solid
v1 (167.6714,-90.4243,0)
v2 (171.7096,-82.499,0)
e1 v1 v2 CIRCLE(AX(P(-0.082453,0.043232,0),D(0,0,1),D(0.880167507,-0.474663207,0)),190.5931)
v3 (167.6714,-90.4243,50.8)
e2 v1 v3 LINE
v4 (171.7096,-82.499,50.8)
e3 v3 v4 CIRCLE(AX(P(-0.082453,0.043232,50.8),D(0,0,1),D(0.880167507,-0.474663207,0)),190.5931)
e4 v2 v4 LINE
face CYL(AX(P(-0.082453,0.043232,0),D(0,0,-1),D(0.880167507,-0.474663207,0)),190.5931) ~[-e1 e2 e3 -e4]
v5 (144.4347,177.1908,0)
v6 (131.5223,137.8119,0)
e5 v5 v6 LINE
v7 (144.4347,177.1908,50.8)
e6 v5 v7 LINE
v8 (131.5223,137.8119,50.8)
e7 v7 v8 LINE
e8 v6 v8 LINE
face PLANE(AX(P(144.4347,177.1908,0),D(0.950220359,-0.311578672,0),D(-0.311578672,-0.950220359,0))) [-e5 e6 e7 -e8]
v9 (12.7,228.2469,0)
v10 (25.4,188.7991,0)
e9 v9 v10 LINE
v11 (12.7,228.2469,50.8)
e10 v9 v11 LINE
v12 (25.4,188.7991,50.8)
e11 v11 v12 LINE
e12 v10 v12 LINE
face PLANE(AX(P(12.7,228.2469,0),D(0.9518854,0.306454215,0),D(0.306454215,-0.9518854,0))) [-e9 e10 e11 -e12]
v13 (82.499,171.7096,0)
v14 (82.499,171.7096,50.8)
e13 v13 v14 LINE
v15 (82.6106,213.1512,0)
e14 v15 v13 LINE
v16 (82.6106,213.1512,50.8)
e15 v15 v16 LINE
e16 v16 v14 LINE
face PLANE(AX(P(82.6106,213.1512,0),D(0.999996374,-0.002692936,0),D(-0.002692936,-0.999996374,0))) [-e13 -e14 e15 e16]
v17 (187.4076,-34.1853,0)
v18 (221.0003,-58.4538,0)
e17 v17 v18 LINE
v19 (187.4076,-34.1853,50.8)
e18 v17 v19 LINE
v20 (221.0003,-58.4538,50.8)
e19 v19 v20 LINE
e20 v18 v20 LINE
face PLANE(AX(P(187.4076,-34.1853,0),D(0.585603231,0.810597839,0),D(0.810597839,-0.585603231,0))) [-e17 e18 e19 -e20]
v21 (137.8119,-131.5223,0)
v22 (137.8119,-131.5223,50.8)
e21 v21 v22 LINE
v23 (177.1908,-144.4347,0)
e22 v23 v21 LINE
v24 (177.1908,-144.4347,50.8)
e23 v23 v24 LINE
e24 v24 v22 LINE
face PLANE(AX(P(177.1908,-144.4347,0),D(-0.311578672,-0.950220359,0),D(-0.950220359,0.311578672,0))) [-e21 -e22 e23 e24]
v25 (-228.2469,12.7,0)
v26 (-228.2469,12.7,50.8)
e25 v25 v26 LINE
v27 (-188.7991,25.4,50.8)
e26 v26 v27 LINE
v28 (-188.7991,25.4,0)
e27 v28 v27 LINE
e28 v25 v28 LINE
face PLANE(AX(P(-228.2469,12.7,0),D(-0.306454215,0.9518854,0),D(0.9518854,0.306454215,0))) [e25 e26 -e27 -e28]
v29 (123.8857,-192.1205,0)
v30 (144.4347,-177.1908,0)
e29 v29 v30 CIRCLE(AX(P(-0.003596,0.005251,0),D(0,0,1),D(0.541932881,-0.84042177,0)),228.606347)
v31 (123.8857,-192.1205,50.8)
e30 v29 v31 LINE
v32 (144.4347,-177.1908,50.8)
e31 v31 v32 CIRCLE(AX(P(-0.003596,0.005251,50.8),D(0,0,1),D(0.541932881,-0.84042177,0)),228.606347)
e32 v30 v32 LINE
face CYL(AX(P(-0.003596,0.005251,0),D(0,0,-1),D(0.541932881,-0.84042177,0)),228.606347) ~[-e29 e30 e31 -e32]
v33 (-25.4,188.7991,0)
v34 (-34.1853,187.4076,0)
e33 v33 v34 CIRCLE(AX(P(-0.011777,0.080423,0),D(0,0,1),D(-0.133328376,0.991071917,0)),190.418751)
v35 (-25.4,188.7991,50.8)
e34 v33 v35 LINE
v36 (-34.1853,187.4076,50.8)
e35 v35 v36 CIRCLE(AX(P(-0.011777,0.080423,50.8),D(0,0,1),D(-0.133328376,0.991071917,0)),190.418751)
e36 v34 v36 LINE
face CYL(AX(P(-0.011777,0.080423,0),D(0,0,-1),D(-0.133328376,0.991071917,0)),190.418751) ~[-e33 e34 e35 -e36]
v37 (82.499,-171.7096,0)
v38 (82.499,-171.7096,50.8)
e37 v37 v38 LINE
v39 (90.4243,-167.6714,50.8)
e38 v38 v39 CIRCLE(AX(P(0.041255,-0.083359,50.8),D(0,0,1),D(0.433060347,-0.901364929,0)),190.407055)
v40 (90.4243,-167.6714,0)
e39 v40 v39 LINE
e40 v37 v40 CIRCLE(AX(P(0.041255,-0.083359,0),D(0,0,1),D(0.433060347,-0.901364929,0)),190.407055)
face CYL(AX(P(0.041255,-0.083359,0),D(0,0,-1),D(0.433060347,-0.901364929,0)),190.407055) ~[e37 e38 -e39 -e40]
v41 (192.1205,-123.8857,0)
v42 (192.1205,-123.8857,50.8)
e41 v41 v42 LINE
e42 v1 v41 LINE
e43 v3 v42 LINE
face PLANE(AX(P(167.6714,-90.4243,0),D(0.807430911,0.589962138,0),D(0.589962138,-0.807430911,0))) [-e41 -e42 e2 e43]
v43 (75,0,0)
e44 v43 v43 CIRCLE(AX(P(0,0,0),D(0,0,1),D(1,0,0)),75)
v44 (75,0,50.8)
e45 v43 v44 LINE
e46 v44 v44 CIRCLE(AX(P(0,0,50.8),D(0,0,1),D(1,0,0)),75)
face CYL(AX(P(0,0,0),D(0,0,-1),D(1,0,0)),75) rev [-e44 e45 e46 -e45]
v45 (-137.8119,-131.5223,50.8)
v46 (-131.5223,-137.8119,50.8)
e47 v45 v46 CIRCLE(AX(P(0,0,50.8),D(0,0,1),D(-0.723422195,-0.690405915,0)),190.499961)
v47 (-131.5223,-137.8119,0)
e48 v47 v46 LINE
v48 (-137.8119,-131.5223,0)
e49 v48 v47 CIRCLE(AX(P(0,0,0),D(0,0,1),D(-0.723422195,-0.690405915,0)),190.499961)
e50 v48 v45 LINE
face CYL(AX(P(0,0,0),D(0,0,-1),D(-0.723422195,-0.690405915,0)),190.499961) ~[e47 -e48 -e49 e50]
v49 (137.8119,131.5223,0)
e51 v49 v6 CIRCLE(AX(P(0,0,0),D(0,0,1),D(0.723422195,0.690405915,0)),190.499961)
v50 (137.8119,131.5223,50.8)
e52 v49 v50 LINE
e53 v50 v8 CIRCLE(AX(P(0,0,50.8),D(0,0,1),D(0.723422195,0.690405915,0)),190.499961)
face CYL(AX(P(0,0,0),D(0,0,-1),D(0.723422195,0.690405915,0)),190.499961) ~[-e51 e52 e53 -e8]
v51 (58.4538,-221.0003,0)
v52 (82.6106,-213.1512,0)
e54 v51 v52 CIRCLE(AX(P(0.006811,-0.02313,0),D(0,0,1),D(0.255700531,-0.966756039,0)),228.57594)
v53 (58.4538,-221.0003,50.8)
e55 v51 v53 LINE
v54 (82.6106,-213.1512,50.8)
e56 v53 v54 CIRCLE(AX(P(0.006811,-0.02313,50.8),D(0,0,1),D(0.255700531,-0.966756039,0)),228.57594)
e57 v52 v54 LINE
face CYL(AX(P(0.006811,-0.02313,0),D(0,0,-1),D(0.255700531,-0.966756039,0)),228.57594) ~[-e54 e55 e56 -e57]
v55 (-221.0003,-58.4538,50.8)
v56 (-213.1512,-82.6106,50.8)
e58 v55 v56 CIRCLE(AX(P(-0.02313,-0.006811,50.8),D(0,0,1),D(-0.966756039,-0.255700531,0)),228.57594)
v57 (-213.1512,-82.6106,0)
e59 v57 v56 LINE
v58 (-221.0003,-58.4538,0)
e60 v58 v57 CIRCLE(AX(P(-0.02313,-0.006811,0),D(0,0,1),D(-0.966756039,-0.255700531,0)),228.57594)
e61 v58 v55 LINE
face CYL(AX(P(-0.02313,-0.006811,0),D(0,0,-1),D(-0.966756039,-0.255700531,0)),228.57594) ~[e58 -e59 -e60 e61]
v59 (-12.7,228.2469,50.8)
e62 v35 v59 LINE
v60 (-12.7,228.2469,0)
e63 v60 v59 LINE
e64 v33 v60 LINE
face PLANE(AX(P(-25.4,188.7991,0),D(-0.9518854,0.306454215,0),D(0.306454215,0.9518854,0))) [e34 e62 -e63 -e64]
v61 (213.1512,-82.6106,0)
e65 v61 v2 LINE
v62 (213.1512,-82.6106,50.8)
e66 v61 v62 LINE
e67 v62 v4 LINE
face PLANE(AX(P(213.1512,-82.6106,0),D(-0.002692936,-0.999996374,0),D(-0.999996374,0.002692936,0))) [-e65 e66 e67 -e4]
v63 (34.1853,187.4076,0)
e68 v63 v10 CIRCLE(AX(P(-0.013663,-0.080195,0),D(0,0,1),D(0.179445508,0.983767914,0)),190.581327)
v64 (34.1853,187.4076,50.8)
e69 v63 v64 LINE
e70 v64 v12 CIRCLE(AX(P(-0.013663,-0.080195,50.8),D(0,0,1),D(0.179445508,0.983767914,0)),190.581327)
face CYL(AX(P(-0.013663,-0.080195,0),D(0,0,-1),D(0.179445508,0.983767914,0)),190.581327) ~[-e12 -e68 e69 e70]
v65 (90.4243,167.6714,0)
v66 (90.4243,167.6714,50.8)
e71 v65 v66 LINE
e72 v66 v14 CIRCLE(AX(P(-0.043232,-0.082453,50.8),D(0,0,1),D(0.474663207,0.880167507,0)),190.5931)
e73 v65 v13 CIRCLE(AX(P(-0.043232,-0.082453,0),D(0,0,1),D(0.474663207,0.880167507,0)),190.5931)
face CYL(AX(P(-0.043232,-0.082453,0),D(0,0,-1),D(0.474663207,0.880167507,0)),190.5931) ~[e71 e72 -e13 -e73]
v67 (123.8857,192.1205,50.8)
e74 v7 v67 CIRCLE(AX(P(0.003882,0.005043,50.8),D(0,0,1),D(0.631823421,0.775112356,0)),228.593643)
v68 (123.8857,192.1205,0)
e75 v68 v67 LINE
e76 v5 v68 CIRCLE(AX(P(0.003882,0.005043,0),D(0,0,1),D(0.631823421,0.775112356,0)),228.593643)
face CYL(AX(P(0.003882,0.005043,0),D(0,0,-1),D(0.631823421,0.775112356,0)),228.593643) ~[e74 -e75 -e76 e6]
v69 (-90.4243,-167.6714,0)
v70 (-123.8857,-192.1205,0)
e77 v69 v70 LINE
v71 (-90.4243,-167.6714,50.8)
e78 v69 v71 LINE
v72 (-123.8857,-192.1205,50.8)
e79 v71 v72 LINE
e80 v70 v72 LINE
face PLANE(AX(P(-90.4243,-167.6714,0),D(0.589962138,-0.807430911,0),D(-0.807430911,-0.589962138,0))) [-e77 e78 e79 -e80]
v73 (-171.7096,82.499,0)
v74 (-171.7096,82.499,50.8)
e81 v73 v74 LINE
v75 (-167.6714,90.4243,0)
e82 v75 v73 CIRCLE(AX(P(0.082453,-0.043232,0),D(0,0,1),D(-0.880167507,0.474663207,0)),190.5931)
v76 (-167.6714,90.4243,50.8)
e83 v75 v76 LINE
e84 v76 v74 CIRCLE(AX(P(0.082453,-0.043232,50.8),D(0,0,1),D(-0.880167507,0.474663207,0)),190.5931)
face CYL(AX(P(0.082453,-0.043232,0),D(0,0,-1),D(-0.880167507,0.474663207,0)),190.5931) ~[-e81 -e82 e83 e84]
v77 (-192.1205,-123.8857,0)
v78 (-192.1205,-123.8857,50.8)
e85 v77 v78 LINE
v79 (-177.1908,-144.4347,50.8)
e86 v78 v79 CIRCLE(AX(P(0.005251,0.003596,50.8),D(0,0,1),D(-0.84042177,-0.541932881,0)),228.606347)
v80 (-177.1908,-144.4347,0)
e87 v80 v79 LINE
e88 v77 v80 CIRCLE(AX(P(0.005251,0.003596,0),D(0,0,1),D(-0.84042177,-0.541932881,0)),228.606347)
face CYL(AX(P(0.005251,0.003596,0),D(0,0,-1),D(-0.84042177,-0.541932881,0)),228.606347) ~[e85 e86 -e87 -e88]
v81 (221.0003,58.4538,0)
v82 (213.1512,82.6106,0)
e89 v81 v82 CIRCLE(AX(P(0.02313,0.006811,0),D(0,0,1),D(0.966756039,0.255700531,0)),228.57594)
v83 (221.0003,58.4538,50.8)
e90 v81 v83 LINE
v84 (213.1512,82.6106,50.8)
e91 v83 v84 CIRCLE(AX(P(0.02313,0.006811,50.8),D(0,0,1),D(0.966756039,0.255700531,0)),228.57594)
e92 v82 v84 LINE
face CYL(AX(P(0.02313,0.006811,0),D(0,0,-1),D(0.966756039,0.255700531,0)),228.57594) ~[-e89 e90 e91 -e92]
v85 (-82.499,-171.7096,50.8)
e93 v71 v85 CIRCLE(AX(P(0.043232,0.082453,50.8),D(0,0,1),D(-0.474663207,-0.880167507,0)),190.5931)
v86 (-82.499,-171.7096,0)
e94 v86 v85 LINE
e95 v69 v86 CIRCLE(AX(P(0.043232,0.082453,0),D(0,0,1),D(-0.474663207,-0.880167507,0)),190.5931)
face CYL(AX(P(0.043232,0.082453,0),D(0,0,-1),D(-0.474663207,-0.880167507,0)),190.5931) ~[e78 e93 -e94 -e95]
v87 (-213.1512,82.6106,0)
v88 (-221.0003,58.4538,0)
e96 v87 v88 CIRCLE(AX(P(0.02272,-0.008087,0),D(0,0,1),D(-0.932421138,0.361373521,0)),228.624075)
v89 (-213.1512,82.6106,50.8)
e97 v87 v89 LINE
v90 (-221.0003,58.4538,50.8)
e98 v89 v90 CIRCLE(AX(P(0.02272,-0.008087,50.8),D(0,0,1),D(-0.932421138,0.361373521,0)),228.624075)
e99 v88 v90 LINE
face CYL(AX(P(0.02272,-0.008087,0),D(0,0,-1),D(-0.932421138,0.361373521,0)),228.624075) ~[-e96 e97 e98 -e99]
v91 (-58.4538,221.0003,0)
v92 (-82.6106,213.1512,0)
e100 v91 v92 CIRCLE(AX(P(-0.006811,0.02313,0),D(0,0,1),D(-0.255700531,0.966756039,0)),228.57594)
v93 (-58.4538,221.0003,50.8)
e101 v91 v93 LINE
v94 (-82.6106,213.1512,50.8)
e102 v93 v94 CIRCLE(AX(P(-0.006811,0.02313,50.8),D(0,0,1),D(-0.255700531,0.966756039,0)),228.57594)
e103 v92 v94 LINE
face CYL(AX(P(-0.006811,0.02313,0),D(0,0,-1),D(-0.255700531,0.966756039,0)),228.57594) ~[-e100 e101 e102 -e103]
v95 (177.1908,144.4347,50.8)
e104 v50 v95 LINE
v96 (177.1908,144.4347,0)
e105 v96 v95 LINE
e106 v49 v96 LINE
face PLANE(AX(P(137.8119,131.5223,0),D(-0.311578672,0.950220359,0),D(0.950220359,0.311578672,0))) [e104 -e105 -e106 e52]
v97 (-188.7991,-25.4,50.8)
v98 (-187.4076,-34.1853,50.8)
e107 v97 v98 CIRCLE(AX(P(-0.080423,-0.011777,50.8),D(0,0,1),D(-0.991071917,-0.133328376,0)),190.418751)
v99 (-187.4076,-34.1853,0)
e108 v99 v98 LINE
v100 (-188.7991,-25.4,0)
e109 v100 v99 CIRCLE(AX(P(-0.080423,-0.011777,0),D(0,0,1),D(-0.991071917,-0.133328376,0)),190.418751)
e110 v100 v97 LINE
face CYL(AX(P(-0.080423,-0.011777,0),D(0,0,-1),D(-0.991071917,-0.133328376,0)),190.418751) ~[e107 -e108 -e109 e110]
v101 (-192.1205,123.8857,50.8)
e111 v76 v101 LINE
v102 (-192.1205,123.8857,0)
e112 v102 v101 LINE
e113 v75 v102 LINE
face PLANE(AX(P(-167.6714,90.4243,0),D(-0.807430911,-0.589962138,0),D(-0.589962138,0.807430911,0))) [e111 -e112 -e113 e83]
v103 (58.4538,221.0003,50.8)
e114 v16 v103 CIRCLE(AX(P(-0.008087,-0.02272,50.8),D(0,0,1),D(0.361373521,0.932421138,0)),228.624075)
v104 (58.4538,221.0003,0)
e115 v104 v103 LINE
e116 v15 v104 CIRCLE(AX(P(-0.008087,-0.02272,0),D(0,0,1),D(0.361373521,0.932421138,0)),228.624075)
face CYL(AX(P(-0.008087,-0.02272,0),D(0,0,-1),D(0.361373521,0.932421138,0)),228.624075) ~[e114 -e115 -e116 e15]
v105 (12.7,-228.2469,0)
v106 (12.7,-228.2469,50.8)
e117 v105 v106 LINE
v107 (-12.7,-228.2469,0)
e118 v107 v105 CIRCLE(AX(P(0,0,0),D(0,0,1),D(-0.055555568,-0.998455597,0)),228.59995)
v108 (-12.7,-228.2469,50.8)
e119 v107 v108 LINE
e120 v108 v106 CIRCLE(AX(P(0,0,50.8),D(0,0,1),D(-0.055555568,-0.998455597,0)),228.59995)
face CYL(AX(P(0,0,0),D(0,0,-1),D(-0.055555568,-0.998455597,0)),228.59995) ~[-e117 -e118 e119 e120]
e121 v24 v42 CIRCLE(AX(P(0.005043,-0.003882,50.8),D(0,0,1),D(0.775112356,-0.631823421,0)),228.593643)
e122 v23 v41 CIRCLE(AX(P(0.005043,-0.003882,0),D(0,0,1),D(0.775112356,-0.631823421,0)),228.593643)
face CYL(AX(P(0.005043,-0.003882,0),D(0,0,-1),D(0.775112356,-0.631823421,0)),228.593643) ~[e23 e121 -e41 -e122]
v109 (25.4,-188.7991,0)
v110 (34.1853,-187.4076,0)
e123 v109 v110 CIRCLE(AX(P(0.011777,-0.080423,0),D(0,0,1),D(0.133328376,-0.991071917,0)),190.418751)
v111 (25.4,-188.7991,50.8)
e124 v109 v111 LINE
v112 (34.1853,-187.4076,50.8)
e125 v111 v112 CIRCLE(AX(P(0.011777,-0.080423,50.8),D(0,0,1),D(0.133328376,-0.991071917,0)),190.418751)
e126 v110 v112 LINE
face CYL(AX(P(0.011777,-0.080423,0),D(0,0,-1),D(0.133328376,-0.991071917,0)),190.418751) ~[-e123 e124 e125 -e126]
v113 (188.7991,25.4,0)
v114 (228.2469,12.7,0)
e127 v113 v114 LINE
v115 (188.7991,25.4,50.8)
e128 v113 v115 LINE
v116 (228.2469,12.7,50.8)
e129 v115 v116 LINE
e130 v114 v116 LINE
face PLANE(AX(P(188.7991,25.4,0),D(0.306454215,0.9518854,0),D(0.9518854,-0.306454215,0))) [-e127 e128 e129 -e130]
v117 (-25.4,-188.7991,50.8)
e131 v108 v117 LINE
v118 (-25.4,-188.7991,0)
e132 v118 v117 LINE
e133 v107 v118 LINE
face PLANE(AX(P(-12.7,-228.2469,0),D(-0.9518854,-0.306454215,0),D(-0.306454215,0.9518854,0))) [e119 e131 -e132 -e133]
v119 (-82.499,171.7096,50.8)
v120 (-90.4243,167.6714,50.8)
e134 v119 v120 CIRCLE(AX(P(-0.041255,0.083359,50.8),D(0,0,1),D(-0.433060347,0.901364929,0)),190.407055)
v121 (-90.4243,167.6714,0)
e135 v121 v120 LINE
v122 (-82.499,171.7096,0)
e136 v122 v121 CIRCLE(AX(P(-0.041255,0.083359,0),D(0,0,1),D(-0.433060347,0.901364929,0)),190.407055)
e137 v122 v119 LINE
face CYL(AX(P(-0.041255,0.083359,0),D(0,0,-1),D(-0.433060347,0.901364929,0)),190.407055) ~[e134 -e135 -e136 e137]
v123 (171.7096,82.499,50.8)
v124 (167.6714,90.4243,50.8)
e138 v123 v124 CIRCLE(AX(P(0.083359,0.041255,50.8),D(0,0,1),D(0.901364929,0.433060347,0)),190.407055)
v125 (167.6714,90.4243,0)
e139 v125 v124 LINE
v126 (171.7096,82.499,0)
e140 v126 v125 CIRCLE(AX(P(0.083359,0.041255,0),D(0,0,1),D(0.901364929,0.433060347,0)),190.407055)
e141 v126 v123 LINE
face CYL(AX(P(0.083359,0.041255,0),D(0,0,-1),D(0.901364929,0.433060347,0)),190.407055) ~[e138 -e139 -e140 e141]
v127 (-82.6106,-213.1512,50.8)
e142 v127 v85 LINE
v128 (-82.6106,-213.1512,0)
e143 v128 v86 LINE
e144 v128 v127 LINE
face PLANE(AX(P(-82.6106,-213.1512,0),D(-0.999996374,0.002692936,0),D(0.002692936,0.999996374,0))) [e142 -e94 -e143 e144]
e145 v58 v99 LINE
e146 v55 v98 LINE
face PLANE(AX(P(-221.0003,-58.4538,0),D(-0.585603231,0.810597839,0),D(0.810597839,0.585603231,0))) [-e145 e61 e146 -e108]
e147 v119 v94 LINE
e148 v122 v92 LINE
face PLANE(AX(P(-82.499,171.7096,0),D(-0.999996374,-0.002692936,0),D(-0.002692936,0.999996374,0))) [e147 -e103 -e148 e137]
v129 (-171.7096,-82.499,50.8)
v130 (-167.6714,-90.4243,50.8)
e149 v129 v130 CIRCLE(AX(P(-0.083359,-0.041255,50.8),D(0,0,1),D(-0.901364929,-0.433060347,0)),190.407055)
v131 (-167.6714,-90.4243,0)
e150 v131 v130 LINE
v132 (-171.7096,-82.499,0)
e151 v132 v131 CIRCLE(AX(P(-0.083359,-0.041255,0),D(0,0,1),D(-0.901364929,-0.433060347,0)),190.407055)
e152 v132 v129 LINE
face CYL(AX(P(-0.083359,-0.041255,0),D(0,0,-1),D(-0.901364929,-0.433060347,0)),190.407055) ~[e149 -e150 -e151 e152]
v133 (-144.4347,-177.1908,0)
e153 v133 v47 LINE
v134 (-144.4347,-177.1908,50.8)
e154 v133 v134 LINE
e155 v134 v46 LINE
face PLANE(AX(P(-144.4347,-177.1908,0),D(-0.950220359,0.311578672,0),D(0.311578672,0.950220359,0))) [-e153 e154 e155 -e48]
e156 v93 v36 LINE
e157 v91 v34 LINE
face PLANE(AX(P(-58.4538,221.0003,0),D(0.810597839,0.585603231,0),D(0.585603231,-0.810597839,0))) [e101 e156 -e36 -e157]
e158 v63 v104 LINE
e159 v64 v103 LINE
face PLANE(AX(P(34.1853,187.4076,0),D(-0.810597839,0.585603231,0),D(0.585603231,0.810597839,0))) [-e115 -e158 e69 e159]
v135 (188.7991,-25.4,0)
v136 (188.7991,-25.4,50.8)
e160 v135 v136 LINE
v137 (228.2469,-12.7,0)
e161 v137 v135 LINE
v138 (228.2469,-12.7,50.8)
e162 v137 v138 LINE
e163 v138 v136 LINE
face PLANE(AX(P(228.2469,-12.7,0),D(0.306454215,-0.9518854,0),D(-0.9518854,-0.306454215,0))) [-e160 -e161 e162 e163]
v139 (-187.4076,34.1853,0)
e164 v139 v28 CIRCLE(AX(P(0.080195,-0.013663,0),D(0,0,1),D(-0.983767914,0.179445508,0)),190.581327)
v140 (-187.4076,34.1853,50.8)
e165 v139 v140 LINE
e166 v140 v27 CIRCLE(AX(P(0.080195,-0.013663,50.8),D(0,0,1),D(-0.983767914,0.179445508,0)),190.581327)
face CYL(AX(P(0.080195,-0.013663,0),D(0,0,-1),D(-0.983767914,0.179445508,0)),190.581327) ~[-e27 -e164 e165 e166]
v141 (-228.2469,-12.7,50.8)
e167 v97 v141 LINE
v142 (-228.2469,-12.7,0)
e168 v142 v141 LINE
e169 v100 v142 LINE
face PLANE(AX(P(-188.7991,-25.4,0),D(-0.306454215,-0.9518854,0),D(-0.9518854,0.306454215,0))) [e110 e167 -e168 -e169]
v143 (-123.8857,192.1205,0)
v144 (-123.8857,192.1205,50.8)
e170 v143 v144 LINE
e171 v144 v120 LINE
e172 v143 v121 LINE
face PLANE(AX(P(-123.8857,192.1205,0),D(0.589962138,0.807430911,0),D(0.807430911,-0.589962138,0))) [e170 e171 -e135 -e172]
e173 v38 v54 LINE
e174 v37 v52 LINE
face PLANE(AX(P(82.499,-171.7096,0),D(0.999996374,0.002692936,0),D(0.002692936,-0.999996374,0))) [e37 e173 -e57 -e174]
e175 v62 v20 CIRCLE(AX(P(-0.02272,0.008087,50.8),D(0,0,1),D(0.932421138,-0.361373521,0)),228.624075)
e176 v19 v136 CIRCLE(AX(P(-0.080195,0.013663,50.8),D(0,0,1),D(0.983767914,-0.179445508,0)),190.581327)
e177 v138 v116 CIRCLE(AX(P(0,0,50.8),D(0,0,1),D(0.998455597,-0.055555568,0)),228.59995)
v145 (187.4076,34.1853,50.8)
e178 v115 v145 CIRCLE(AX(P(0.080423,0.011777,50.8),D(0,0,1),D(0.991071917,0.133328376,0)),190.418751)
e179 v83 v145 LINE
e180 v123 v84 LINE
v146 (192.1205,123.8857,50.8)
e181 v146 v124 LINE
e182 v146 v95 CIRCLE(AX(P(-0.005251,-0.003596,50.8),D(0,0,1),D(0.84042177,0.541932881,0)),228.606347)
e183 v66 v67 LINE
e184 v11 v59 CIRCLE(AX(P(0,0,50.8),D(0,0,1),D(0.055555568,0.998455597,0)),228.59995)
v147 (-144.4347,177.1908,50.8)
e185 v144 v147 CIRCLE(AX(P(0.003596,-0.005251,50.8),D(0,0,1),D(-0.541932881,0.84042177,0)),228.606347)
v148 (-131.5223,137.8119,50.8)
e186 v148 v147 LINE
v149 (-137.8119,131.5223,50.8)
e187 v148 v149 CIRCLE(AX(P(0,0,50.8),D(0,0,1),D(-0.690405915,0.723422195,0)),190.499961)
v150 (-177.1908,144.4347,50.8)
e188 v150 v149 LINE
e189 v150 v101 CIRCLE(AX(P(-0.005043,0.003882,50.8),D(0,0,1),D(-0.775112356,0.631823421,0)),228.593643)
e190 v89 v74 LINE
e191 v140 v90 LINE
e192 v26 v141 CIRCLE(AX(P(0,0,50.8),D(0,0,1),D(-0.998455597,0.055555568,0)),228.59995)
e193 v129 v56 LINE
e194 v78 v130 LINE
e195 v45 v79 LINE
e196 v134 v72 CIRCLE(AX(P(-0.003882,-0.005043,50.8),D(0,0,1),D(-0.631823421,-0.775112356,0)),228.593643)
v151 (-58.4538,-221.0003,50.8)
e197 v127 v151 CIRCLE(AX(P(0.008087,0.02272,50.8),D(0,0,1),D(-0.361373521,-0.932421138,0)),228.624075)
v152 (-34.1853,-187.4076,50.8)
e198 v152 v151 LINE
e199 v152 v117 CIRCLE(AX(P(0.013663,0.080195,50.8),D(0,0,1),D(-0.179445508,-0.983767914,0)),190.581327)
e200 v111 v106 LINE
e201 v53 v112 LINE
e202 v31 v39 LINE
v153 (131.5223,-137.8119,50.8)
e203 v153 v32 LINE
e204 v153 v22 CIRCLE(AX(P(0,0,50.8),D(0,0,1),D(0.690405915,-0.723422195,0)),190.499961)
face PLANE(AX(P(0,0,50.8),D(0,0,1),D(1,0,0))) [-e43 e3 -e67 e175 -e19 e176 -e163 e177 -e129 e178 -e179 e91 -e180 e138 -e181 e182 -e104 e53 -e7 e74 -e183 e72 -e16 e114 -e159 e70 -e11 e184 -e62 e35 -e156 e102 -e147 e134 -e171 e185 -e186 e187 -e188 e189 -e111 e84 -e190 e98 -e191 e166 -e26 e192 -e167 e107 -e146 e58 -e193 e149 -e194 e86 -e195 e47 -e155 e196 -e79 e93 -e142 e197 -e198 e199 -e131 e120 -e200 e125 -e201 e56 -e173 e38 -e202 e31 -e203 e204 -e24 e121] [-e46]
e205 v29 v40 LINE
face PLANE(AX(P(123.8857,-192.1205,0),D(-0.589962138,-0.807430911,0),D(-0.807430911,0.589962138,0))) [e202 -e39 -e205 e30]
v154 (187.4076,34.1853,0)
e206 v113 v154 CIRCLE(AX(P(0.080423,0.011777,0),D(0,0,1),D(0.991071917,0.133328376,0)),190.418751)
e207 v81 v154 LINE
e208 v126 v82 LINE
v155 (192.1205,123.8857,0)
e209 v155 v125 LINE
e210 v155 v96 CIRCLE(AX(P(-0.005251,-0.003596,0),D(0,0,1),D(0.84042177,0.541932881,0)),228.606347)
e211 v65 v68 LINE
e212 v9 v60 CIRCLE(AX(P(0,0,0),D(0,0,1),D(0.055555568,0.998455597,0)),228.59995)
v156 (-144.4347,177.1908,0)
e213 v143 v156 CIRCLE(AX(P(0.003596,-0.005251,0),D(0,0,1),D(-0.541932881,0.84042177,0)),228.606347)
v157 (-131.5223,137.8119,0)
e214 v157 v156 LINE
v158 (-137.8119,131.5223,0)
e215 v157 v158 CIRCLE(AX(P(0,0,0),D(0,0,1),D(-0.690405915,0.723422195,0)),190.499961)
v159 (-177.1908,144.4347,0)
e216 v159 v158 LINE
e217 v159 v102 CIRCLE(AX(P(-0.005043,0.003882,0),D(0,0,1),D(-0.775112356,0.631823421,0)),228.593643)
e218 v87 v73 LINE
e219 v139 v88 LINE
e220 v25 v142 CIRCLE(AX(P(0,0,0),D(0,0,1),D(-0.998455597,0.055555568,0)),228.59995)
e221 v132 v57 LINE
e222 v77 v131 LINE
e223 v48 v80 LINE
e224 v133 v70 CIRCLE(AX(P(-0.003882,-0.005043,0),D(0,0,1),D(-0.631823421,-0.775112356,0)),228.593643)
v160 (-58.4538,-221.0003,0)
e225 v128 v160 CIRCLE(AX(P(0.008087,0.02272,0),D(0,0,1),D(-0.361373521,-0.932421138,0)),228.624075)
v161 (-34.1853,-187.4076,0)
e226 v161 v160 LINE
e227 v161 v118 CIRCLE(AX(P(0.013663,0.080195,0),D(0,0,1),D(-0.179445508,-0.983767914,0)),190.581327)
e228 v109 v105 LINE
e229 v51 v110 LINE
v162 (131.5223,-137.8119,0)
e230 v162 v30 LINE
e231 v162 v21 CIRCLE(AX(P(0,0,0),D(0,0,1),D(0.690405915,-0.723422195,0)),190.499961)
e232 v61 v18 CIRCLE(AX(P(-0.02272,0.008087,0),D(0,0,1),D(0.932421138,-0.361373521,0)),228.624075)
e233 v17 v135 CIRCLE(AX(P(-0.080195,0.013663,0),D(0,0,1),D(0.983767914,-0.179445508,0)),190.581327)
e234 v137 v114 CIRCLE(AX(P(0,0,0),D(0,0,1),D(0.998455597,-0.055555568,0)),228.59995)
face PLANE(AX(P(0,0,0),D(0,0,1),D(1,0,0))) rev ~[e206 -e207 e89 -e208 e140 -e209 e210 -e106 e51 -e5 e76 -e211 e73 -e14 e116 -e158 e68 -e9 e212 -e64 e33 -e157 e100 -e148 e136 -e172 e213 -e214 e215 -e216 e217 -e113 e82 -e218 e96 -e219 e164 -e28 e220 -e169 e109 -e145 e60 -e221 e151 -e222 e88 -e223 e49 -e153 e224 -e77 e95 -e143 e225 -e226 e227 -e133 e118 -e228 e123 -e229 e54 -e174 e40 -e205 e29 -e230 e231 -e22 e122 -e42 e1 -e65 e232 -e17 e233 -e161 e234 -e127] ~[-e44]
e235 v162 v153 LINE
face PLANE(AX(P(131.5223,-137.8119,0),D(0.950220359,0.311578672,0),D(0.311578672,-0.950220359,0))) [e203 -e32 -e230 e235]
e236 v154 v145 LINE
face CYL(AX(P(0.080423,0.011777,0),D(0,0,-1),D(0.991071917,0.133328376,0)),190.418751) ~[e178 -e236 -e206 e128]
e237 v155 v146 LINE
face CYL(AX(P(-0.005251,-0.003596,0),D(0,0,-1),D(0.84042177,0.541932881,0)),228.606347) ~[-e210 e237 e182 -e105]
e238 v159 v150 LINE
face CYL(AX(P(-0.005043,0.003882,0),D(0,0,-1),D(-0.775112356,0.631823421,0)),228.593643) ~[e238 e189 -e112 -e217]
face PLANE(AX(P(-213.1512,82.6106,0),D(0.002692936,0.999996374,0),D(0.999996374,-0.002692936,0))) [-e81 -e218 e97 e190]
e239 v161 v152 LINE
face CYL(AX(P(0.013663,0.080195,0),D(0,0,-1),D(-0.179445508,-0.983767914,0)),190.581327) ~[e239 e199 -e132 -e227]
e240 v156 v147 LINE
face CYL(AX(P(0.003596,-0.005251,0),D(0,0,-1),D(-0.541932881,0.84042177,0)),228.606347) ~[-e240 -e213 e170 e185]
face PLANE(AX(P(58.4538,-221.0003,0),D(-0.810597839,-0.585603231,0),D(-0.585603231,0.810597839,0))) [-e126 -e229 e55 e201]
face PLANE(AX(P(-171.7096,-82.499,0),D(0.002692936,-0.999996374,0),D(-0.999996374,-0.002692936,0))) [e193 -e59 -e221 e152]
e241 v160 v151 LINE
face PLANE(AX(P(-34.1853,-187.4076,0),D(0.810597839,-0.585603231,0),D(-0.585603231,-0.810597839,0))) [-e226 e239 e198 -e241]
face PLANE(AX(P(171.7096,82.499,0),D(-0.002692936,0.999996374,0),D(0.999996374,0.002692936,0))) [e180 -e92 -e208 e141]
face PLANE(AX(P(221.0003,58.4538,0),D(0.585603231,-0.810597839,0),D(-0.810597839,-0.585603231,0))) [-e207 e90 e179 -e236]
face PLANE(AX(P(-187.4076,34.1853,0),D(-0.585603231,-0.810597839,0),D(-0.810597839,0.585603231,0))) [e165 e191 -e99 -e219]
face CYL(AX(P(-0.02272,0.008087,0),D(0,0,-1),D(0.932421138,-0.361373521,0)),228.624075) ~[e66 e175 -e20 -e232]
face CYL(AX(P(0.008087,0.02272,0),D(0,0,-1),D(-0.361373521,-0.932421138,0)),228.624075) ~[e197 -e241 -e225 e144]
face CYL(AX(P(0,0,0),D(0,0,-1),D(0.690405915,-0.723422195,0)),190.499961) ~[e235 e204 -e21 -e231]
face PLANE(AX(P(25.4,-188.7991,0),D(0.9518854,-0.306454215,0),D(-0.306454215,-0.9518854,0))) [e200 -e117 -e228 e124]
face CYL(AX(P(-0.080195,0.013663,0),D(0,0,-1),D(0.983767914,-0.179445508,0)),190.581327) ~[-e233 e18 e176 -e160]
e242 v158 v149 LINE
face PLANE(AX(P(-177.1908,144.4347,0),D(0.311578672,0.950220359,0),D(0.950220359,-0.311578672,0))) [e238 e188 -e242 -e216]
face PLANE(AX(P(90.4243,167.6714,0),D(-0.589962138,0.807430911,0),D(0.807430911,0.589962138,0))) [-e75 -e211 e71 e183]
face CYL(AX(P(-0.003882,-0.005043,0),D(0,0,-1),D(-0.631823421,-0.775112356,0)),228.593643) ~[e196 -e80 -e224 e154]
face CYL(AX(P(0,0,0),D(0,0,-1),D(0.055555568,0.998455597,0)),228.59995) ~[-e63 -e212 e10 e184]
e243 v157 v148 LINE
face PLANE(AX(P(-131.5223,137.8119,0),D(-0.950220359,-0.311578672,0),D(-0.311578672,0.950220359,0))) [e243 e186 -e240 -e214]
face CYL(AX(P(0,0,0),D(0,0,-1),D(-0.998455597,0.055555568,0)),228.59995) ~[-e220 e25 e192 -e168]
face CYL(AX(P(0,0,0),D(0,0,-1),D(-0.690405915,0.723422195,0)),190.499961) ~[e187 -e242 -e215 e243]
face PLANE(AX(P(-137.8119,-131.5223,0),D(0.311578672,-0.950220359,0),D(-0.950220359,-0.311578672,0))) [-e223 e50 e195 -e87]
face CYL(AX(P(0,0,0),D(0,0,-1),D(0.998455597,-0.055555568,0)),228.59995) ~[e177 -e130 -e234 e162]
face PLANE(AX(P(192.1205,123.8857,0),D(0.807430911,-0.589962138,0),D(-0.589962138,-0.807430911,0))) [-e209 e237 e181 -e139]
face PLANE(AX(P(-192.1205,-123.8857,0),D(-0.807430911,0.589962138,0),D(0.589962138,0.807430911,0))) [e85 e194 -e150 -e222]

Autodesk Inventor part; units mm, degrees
ref_plane "YZ Plane" through (0, 0, 0) normal (1, 0, 0) x (0, 1, 0)
ref_plane "XZ Plane" through (0, 0, 0) normal (0, 1, 0) x (-1, 0, 0)
ref_plane "XY Plane" through (0, 0, 0) normal (0, 0, 1) x (1, 0, 0)
sketch "Sketch1" plane through (0, 0, 0) normal (0, 0, 1) x (1, 0, 0)
  arc A0 (12.7, 228.2469) -> (-12.7, 228.2469) centre (0, 0) ccw
  line L0 (-25.4, 188.7991) -> (-12.7, 228.2469)
  line L1 (12.7, 228.2469) -> (25.4, 188.7991)
  arc A1 (-58.4538, 221.0003) -> (-82.6106, 213.1512) centre (0, 0) ccw
  line L2 (-82.499, 171.7096) -> (-82.6106, 213.1512)
  line L3 (-58.4538, 221.0003) -> (-34.1853, 187.4076)
  arc A2 (-123.8857, 192.1205) -> (-144.4347, 177.1908) centre (0, 0) ccw
  line L4 (-131.5223, 137.8119) -> (-144.4347, 177.1908)
  line L5 (-123.8857, 192.1205) -> (-90.4243, 167.6714)
  arc A3 (-177.1908, 144.4347) -> (-192.1205, 123.8857) centre (0, 0) ccw
  line L6 (-167.6714, 90.4243) -> (-192.1205, 123.8857)
  line L7 (-177.1908, 144.4347) -> (-137.8119, 131.5223)
  arc A4 (-213.1512, 82.6106) -> (-221.0003, 58.4538) centre (0, 0) ccw
  line L8 (-187.4076, 34.1853) -> (-221.0003, 58.4538)
  line L9 (-213.1512, 82.6106) -> (-171.7096, 82.499)
  arc A5 (-228.2469, 12.7) -> (-228.2469, -12.7) centre (0, 0) ccw
  line L10 (-188.7991, -25.4) -> (-228.2469, -12.7)
  line L11 (-228.2469, 12.7) -> (-188.7991, 25.4)
  arc A6 (-221.0003, -58.4538) -> (-213.1512, -82.6106) centre (0, 0) ccw
  line L12 (-171.7096, -82.499) -> (-213.1512, -82.6106)
  line L13 (-221.0003, -58.4538) -> (-187.4076, -34.1853)
  arc A7 (-192.1205, -123.8857) -> (-177.1908, -144.4347) centre (0, 0) ccw
  line L14 (-137.8119, -131.5223) -> (-177.1908, -144.4347)
  line L15 (-192.1205, -123.8857) -> (-167.6714, -90.4243)
  arc A8 (-144.4347, -177.1908) -> (-123.8857, -192.1205) centre (0, 0) ccw
  line L16 (-90.4243, -167.6714) -> (-123.8857, -192.1205)
  line L17 (-144.4347, -177.1908) -> (-131.5223, -137.8119)
  arc A9 (-82.6106, -213.1512) -> (-58.4538, -221.0003) centre (0, 0) ccw
  line L18 (-34.1853, -187.4076) -> (-58.4538, -221.0003)
  line L19 (-82.6106, -213.1512) -> (-82.499, -171.7096)
  arc A10 (-12.7, -228.2469) -> (12.7, -228.2469) centre (0, 0) ccw
  line L20 (25.4, -188.7991) -> (12.7, -228.2469)
  line L21 (-12.7, -228.2469) -> (-25.4, -188.7991)
  arc A11 (58.4538, -221.0003) -> (82.6106, -213.1512) centre (0, 0) ccw
  line L22 (82.499, -171.7096) -> (82.6106, -213.1512)
  line L23 (58.4538, -221.0003) -> (34.1853, -187.4076)
  arc A12 (123.8857, -192.1205) -> (144.4347, -177.1908) centre (0, 0) ccw
  line L24 (131.5223, -137.8119) -> (144.4347, -177.1908)
  line L25 (123.8857, -192.1205) -> (90.4243, -167.6714)
  arc A13 (177.1908, -144.4347) -> (192.1205, -123.8857) centre (0, 0) ccw
  line L26 (167.6714, -90.4243) -> (192.1205, -123.8857)
  line L27 (177.1908, -144.4347) -> (137.8119, -131.5223)
  arc A14 (213.1512, -82.6106) -> (221.0003, -58.4538) centre (0, 0) ccw
  line L28 (187.4076, -34.1853) -> (221.0003, -58.4538)
  line L29 (213.1512, -82.6106) -> (171.7096, -82.499)
  arc A15 (228.2469, -12.7) -> (228.2469, 12.7) centre (0, 0) ccw
  line L30 (188.7991, 25.4) -> (228.2469, 12.7)
  line L31 (228.2469, -12.7) -> (188.7991, -25.4)
  arc A16 (221.0003, 58.4538) -> (213.1512, 82.6106) centre (0, 0) ccw
  line L32 (171.7096, 82.499) -> (213.1512, 82.6106)
  line L33 (221.0003, 58.4538) -> (187.4076, 34.1853)
  arc A17 (192.1205, 123.8857) -> (177.1908, 144.4347) centre (0, 0) ccw
  line L34 (137.8119, 131.5223) -> (177.1908, 144.4347)
  line L35 (192.1205, 123.8857) -> (167.6714, 90.4243)
  arc A18 (144.4347, 177.1908) -> (123.8857, 192.1205) centre (0, 0) ccw
  line L36 (90.4243, 167.6714) -> (123.8857, 192.1205)
  line L37 (144.4347, 177.1908) -> (131.5223, 137.8119)
  arc A19 (82.6106, 213.1512) -> (58.4538, 221.0003) centre (0, 0) ccw
  line L38 (34.1853, 187.4076) -> (58.4538, 221.0003)
  line L39 (82.6106, 213.1512) -> (82.499, 171.7096)
  arc A20 (-131.5223, 137.8119) -> (-137.8119, 131.5223) centre (0, 0) ccw
  arc A21 (-167.6714, 90.4243) -> (-171.7096, 82.499) centre (0, 0) ccw
  arc A22 (-187.4076, 34.1853) -> (-188.7991, 25.4) centre (0, 0) ccw
  arc A23 (-188.7991, -25.4) -> (-187.4076, -34.1853) centre (0, 0) ccw
  arc A24 (-171.7096, -82.499) -> (-167.6714, -90.4243) centre (0, 0) ccw
  arc A25 (-82.499, 171.7096) -> (-90.4243, 167.6714) centre (0, 0) ccw
  arc A26 (-25.4, 188.7991) -> (-34.1853, 187.4076) centre (0, 0) ccw
  arc A27 (34.1853, 187.4076) -> (25.4, 188.7991) centre (0, 0) ccw
  arc A28 (90.4243, 167.6714) -> (82.499, 171.7096) centre (0, 0) ccw
  arc A29 (137.8119, 131.5223) -> (131.5223, 137.8119) centre (0, 0) ccw
  arc A30 (171.7096, 82.499) -> (167.6714, 90.4243) centre (0, 0) ccw
  arc A31 (188.7991, 25.4) -> (187.4076, 34.1853) centre (0, 0) ccw
  arc A32 (187.4076, -34.1853) -> (188.7991, -25.4) centre (0, 0) ccw
  arc A33 (167.6714, -90.4243) -> (171.7096, -82.499) centre (0, 0) ccw
  arc A34 (131.5223, -137.8119) -> (137.8119, -131.5223) centre (0, 0) ccw
  arc A35 (82.499, -171.7096) -> (90.4243, -167.6714) centre (0, 0) ccw
  arc A36 (-137.8119, -131.5223) -> (-131.5223, -137.8119) centre (0, 0) ccw
  arc A37 (-90.4243, -167.6714) -> (-82.499, -171.7096) centre (0, 0) ccw
  arc A38 (-34.1853, -187.4076) -> (-25.4, -188.7991) centre (0, 0) ccw
  arc A39 (25.4, -188.7991) -> (34.1853, -187.4076) centre (0, 0) ccw
  circle A40 centre (0, 0) radius 75
  dimension "d10" = 457.2
  dimension "d18" = 360
  dimension "d20" = 150
extrude "Extrusion1" add sketch "Sketch1" along normal blind 50.8
properties part number "Engrenagem"
